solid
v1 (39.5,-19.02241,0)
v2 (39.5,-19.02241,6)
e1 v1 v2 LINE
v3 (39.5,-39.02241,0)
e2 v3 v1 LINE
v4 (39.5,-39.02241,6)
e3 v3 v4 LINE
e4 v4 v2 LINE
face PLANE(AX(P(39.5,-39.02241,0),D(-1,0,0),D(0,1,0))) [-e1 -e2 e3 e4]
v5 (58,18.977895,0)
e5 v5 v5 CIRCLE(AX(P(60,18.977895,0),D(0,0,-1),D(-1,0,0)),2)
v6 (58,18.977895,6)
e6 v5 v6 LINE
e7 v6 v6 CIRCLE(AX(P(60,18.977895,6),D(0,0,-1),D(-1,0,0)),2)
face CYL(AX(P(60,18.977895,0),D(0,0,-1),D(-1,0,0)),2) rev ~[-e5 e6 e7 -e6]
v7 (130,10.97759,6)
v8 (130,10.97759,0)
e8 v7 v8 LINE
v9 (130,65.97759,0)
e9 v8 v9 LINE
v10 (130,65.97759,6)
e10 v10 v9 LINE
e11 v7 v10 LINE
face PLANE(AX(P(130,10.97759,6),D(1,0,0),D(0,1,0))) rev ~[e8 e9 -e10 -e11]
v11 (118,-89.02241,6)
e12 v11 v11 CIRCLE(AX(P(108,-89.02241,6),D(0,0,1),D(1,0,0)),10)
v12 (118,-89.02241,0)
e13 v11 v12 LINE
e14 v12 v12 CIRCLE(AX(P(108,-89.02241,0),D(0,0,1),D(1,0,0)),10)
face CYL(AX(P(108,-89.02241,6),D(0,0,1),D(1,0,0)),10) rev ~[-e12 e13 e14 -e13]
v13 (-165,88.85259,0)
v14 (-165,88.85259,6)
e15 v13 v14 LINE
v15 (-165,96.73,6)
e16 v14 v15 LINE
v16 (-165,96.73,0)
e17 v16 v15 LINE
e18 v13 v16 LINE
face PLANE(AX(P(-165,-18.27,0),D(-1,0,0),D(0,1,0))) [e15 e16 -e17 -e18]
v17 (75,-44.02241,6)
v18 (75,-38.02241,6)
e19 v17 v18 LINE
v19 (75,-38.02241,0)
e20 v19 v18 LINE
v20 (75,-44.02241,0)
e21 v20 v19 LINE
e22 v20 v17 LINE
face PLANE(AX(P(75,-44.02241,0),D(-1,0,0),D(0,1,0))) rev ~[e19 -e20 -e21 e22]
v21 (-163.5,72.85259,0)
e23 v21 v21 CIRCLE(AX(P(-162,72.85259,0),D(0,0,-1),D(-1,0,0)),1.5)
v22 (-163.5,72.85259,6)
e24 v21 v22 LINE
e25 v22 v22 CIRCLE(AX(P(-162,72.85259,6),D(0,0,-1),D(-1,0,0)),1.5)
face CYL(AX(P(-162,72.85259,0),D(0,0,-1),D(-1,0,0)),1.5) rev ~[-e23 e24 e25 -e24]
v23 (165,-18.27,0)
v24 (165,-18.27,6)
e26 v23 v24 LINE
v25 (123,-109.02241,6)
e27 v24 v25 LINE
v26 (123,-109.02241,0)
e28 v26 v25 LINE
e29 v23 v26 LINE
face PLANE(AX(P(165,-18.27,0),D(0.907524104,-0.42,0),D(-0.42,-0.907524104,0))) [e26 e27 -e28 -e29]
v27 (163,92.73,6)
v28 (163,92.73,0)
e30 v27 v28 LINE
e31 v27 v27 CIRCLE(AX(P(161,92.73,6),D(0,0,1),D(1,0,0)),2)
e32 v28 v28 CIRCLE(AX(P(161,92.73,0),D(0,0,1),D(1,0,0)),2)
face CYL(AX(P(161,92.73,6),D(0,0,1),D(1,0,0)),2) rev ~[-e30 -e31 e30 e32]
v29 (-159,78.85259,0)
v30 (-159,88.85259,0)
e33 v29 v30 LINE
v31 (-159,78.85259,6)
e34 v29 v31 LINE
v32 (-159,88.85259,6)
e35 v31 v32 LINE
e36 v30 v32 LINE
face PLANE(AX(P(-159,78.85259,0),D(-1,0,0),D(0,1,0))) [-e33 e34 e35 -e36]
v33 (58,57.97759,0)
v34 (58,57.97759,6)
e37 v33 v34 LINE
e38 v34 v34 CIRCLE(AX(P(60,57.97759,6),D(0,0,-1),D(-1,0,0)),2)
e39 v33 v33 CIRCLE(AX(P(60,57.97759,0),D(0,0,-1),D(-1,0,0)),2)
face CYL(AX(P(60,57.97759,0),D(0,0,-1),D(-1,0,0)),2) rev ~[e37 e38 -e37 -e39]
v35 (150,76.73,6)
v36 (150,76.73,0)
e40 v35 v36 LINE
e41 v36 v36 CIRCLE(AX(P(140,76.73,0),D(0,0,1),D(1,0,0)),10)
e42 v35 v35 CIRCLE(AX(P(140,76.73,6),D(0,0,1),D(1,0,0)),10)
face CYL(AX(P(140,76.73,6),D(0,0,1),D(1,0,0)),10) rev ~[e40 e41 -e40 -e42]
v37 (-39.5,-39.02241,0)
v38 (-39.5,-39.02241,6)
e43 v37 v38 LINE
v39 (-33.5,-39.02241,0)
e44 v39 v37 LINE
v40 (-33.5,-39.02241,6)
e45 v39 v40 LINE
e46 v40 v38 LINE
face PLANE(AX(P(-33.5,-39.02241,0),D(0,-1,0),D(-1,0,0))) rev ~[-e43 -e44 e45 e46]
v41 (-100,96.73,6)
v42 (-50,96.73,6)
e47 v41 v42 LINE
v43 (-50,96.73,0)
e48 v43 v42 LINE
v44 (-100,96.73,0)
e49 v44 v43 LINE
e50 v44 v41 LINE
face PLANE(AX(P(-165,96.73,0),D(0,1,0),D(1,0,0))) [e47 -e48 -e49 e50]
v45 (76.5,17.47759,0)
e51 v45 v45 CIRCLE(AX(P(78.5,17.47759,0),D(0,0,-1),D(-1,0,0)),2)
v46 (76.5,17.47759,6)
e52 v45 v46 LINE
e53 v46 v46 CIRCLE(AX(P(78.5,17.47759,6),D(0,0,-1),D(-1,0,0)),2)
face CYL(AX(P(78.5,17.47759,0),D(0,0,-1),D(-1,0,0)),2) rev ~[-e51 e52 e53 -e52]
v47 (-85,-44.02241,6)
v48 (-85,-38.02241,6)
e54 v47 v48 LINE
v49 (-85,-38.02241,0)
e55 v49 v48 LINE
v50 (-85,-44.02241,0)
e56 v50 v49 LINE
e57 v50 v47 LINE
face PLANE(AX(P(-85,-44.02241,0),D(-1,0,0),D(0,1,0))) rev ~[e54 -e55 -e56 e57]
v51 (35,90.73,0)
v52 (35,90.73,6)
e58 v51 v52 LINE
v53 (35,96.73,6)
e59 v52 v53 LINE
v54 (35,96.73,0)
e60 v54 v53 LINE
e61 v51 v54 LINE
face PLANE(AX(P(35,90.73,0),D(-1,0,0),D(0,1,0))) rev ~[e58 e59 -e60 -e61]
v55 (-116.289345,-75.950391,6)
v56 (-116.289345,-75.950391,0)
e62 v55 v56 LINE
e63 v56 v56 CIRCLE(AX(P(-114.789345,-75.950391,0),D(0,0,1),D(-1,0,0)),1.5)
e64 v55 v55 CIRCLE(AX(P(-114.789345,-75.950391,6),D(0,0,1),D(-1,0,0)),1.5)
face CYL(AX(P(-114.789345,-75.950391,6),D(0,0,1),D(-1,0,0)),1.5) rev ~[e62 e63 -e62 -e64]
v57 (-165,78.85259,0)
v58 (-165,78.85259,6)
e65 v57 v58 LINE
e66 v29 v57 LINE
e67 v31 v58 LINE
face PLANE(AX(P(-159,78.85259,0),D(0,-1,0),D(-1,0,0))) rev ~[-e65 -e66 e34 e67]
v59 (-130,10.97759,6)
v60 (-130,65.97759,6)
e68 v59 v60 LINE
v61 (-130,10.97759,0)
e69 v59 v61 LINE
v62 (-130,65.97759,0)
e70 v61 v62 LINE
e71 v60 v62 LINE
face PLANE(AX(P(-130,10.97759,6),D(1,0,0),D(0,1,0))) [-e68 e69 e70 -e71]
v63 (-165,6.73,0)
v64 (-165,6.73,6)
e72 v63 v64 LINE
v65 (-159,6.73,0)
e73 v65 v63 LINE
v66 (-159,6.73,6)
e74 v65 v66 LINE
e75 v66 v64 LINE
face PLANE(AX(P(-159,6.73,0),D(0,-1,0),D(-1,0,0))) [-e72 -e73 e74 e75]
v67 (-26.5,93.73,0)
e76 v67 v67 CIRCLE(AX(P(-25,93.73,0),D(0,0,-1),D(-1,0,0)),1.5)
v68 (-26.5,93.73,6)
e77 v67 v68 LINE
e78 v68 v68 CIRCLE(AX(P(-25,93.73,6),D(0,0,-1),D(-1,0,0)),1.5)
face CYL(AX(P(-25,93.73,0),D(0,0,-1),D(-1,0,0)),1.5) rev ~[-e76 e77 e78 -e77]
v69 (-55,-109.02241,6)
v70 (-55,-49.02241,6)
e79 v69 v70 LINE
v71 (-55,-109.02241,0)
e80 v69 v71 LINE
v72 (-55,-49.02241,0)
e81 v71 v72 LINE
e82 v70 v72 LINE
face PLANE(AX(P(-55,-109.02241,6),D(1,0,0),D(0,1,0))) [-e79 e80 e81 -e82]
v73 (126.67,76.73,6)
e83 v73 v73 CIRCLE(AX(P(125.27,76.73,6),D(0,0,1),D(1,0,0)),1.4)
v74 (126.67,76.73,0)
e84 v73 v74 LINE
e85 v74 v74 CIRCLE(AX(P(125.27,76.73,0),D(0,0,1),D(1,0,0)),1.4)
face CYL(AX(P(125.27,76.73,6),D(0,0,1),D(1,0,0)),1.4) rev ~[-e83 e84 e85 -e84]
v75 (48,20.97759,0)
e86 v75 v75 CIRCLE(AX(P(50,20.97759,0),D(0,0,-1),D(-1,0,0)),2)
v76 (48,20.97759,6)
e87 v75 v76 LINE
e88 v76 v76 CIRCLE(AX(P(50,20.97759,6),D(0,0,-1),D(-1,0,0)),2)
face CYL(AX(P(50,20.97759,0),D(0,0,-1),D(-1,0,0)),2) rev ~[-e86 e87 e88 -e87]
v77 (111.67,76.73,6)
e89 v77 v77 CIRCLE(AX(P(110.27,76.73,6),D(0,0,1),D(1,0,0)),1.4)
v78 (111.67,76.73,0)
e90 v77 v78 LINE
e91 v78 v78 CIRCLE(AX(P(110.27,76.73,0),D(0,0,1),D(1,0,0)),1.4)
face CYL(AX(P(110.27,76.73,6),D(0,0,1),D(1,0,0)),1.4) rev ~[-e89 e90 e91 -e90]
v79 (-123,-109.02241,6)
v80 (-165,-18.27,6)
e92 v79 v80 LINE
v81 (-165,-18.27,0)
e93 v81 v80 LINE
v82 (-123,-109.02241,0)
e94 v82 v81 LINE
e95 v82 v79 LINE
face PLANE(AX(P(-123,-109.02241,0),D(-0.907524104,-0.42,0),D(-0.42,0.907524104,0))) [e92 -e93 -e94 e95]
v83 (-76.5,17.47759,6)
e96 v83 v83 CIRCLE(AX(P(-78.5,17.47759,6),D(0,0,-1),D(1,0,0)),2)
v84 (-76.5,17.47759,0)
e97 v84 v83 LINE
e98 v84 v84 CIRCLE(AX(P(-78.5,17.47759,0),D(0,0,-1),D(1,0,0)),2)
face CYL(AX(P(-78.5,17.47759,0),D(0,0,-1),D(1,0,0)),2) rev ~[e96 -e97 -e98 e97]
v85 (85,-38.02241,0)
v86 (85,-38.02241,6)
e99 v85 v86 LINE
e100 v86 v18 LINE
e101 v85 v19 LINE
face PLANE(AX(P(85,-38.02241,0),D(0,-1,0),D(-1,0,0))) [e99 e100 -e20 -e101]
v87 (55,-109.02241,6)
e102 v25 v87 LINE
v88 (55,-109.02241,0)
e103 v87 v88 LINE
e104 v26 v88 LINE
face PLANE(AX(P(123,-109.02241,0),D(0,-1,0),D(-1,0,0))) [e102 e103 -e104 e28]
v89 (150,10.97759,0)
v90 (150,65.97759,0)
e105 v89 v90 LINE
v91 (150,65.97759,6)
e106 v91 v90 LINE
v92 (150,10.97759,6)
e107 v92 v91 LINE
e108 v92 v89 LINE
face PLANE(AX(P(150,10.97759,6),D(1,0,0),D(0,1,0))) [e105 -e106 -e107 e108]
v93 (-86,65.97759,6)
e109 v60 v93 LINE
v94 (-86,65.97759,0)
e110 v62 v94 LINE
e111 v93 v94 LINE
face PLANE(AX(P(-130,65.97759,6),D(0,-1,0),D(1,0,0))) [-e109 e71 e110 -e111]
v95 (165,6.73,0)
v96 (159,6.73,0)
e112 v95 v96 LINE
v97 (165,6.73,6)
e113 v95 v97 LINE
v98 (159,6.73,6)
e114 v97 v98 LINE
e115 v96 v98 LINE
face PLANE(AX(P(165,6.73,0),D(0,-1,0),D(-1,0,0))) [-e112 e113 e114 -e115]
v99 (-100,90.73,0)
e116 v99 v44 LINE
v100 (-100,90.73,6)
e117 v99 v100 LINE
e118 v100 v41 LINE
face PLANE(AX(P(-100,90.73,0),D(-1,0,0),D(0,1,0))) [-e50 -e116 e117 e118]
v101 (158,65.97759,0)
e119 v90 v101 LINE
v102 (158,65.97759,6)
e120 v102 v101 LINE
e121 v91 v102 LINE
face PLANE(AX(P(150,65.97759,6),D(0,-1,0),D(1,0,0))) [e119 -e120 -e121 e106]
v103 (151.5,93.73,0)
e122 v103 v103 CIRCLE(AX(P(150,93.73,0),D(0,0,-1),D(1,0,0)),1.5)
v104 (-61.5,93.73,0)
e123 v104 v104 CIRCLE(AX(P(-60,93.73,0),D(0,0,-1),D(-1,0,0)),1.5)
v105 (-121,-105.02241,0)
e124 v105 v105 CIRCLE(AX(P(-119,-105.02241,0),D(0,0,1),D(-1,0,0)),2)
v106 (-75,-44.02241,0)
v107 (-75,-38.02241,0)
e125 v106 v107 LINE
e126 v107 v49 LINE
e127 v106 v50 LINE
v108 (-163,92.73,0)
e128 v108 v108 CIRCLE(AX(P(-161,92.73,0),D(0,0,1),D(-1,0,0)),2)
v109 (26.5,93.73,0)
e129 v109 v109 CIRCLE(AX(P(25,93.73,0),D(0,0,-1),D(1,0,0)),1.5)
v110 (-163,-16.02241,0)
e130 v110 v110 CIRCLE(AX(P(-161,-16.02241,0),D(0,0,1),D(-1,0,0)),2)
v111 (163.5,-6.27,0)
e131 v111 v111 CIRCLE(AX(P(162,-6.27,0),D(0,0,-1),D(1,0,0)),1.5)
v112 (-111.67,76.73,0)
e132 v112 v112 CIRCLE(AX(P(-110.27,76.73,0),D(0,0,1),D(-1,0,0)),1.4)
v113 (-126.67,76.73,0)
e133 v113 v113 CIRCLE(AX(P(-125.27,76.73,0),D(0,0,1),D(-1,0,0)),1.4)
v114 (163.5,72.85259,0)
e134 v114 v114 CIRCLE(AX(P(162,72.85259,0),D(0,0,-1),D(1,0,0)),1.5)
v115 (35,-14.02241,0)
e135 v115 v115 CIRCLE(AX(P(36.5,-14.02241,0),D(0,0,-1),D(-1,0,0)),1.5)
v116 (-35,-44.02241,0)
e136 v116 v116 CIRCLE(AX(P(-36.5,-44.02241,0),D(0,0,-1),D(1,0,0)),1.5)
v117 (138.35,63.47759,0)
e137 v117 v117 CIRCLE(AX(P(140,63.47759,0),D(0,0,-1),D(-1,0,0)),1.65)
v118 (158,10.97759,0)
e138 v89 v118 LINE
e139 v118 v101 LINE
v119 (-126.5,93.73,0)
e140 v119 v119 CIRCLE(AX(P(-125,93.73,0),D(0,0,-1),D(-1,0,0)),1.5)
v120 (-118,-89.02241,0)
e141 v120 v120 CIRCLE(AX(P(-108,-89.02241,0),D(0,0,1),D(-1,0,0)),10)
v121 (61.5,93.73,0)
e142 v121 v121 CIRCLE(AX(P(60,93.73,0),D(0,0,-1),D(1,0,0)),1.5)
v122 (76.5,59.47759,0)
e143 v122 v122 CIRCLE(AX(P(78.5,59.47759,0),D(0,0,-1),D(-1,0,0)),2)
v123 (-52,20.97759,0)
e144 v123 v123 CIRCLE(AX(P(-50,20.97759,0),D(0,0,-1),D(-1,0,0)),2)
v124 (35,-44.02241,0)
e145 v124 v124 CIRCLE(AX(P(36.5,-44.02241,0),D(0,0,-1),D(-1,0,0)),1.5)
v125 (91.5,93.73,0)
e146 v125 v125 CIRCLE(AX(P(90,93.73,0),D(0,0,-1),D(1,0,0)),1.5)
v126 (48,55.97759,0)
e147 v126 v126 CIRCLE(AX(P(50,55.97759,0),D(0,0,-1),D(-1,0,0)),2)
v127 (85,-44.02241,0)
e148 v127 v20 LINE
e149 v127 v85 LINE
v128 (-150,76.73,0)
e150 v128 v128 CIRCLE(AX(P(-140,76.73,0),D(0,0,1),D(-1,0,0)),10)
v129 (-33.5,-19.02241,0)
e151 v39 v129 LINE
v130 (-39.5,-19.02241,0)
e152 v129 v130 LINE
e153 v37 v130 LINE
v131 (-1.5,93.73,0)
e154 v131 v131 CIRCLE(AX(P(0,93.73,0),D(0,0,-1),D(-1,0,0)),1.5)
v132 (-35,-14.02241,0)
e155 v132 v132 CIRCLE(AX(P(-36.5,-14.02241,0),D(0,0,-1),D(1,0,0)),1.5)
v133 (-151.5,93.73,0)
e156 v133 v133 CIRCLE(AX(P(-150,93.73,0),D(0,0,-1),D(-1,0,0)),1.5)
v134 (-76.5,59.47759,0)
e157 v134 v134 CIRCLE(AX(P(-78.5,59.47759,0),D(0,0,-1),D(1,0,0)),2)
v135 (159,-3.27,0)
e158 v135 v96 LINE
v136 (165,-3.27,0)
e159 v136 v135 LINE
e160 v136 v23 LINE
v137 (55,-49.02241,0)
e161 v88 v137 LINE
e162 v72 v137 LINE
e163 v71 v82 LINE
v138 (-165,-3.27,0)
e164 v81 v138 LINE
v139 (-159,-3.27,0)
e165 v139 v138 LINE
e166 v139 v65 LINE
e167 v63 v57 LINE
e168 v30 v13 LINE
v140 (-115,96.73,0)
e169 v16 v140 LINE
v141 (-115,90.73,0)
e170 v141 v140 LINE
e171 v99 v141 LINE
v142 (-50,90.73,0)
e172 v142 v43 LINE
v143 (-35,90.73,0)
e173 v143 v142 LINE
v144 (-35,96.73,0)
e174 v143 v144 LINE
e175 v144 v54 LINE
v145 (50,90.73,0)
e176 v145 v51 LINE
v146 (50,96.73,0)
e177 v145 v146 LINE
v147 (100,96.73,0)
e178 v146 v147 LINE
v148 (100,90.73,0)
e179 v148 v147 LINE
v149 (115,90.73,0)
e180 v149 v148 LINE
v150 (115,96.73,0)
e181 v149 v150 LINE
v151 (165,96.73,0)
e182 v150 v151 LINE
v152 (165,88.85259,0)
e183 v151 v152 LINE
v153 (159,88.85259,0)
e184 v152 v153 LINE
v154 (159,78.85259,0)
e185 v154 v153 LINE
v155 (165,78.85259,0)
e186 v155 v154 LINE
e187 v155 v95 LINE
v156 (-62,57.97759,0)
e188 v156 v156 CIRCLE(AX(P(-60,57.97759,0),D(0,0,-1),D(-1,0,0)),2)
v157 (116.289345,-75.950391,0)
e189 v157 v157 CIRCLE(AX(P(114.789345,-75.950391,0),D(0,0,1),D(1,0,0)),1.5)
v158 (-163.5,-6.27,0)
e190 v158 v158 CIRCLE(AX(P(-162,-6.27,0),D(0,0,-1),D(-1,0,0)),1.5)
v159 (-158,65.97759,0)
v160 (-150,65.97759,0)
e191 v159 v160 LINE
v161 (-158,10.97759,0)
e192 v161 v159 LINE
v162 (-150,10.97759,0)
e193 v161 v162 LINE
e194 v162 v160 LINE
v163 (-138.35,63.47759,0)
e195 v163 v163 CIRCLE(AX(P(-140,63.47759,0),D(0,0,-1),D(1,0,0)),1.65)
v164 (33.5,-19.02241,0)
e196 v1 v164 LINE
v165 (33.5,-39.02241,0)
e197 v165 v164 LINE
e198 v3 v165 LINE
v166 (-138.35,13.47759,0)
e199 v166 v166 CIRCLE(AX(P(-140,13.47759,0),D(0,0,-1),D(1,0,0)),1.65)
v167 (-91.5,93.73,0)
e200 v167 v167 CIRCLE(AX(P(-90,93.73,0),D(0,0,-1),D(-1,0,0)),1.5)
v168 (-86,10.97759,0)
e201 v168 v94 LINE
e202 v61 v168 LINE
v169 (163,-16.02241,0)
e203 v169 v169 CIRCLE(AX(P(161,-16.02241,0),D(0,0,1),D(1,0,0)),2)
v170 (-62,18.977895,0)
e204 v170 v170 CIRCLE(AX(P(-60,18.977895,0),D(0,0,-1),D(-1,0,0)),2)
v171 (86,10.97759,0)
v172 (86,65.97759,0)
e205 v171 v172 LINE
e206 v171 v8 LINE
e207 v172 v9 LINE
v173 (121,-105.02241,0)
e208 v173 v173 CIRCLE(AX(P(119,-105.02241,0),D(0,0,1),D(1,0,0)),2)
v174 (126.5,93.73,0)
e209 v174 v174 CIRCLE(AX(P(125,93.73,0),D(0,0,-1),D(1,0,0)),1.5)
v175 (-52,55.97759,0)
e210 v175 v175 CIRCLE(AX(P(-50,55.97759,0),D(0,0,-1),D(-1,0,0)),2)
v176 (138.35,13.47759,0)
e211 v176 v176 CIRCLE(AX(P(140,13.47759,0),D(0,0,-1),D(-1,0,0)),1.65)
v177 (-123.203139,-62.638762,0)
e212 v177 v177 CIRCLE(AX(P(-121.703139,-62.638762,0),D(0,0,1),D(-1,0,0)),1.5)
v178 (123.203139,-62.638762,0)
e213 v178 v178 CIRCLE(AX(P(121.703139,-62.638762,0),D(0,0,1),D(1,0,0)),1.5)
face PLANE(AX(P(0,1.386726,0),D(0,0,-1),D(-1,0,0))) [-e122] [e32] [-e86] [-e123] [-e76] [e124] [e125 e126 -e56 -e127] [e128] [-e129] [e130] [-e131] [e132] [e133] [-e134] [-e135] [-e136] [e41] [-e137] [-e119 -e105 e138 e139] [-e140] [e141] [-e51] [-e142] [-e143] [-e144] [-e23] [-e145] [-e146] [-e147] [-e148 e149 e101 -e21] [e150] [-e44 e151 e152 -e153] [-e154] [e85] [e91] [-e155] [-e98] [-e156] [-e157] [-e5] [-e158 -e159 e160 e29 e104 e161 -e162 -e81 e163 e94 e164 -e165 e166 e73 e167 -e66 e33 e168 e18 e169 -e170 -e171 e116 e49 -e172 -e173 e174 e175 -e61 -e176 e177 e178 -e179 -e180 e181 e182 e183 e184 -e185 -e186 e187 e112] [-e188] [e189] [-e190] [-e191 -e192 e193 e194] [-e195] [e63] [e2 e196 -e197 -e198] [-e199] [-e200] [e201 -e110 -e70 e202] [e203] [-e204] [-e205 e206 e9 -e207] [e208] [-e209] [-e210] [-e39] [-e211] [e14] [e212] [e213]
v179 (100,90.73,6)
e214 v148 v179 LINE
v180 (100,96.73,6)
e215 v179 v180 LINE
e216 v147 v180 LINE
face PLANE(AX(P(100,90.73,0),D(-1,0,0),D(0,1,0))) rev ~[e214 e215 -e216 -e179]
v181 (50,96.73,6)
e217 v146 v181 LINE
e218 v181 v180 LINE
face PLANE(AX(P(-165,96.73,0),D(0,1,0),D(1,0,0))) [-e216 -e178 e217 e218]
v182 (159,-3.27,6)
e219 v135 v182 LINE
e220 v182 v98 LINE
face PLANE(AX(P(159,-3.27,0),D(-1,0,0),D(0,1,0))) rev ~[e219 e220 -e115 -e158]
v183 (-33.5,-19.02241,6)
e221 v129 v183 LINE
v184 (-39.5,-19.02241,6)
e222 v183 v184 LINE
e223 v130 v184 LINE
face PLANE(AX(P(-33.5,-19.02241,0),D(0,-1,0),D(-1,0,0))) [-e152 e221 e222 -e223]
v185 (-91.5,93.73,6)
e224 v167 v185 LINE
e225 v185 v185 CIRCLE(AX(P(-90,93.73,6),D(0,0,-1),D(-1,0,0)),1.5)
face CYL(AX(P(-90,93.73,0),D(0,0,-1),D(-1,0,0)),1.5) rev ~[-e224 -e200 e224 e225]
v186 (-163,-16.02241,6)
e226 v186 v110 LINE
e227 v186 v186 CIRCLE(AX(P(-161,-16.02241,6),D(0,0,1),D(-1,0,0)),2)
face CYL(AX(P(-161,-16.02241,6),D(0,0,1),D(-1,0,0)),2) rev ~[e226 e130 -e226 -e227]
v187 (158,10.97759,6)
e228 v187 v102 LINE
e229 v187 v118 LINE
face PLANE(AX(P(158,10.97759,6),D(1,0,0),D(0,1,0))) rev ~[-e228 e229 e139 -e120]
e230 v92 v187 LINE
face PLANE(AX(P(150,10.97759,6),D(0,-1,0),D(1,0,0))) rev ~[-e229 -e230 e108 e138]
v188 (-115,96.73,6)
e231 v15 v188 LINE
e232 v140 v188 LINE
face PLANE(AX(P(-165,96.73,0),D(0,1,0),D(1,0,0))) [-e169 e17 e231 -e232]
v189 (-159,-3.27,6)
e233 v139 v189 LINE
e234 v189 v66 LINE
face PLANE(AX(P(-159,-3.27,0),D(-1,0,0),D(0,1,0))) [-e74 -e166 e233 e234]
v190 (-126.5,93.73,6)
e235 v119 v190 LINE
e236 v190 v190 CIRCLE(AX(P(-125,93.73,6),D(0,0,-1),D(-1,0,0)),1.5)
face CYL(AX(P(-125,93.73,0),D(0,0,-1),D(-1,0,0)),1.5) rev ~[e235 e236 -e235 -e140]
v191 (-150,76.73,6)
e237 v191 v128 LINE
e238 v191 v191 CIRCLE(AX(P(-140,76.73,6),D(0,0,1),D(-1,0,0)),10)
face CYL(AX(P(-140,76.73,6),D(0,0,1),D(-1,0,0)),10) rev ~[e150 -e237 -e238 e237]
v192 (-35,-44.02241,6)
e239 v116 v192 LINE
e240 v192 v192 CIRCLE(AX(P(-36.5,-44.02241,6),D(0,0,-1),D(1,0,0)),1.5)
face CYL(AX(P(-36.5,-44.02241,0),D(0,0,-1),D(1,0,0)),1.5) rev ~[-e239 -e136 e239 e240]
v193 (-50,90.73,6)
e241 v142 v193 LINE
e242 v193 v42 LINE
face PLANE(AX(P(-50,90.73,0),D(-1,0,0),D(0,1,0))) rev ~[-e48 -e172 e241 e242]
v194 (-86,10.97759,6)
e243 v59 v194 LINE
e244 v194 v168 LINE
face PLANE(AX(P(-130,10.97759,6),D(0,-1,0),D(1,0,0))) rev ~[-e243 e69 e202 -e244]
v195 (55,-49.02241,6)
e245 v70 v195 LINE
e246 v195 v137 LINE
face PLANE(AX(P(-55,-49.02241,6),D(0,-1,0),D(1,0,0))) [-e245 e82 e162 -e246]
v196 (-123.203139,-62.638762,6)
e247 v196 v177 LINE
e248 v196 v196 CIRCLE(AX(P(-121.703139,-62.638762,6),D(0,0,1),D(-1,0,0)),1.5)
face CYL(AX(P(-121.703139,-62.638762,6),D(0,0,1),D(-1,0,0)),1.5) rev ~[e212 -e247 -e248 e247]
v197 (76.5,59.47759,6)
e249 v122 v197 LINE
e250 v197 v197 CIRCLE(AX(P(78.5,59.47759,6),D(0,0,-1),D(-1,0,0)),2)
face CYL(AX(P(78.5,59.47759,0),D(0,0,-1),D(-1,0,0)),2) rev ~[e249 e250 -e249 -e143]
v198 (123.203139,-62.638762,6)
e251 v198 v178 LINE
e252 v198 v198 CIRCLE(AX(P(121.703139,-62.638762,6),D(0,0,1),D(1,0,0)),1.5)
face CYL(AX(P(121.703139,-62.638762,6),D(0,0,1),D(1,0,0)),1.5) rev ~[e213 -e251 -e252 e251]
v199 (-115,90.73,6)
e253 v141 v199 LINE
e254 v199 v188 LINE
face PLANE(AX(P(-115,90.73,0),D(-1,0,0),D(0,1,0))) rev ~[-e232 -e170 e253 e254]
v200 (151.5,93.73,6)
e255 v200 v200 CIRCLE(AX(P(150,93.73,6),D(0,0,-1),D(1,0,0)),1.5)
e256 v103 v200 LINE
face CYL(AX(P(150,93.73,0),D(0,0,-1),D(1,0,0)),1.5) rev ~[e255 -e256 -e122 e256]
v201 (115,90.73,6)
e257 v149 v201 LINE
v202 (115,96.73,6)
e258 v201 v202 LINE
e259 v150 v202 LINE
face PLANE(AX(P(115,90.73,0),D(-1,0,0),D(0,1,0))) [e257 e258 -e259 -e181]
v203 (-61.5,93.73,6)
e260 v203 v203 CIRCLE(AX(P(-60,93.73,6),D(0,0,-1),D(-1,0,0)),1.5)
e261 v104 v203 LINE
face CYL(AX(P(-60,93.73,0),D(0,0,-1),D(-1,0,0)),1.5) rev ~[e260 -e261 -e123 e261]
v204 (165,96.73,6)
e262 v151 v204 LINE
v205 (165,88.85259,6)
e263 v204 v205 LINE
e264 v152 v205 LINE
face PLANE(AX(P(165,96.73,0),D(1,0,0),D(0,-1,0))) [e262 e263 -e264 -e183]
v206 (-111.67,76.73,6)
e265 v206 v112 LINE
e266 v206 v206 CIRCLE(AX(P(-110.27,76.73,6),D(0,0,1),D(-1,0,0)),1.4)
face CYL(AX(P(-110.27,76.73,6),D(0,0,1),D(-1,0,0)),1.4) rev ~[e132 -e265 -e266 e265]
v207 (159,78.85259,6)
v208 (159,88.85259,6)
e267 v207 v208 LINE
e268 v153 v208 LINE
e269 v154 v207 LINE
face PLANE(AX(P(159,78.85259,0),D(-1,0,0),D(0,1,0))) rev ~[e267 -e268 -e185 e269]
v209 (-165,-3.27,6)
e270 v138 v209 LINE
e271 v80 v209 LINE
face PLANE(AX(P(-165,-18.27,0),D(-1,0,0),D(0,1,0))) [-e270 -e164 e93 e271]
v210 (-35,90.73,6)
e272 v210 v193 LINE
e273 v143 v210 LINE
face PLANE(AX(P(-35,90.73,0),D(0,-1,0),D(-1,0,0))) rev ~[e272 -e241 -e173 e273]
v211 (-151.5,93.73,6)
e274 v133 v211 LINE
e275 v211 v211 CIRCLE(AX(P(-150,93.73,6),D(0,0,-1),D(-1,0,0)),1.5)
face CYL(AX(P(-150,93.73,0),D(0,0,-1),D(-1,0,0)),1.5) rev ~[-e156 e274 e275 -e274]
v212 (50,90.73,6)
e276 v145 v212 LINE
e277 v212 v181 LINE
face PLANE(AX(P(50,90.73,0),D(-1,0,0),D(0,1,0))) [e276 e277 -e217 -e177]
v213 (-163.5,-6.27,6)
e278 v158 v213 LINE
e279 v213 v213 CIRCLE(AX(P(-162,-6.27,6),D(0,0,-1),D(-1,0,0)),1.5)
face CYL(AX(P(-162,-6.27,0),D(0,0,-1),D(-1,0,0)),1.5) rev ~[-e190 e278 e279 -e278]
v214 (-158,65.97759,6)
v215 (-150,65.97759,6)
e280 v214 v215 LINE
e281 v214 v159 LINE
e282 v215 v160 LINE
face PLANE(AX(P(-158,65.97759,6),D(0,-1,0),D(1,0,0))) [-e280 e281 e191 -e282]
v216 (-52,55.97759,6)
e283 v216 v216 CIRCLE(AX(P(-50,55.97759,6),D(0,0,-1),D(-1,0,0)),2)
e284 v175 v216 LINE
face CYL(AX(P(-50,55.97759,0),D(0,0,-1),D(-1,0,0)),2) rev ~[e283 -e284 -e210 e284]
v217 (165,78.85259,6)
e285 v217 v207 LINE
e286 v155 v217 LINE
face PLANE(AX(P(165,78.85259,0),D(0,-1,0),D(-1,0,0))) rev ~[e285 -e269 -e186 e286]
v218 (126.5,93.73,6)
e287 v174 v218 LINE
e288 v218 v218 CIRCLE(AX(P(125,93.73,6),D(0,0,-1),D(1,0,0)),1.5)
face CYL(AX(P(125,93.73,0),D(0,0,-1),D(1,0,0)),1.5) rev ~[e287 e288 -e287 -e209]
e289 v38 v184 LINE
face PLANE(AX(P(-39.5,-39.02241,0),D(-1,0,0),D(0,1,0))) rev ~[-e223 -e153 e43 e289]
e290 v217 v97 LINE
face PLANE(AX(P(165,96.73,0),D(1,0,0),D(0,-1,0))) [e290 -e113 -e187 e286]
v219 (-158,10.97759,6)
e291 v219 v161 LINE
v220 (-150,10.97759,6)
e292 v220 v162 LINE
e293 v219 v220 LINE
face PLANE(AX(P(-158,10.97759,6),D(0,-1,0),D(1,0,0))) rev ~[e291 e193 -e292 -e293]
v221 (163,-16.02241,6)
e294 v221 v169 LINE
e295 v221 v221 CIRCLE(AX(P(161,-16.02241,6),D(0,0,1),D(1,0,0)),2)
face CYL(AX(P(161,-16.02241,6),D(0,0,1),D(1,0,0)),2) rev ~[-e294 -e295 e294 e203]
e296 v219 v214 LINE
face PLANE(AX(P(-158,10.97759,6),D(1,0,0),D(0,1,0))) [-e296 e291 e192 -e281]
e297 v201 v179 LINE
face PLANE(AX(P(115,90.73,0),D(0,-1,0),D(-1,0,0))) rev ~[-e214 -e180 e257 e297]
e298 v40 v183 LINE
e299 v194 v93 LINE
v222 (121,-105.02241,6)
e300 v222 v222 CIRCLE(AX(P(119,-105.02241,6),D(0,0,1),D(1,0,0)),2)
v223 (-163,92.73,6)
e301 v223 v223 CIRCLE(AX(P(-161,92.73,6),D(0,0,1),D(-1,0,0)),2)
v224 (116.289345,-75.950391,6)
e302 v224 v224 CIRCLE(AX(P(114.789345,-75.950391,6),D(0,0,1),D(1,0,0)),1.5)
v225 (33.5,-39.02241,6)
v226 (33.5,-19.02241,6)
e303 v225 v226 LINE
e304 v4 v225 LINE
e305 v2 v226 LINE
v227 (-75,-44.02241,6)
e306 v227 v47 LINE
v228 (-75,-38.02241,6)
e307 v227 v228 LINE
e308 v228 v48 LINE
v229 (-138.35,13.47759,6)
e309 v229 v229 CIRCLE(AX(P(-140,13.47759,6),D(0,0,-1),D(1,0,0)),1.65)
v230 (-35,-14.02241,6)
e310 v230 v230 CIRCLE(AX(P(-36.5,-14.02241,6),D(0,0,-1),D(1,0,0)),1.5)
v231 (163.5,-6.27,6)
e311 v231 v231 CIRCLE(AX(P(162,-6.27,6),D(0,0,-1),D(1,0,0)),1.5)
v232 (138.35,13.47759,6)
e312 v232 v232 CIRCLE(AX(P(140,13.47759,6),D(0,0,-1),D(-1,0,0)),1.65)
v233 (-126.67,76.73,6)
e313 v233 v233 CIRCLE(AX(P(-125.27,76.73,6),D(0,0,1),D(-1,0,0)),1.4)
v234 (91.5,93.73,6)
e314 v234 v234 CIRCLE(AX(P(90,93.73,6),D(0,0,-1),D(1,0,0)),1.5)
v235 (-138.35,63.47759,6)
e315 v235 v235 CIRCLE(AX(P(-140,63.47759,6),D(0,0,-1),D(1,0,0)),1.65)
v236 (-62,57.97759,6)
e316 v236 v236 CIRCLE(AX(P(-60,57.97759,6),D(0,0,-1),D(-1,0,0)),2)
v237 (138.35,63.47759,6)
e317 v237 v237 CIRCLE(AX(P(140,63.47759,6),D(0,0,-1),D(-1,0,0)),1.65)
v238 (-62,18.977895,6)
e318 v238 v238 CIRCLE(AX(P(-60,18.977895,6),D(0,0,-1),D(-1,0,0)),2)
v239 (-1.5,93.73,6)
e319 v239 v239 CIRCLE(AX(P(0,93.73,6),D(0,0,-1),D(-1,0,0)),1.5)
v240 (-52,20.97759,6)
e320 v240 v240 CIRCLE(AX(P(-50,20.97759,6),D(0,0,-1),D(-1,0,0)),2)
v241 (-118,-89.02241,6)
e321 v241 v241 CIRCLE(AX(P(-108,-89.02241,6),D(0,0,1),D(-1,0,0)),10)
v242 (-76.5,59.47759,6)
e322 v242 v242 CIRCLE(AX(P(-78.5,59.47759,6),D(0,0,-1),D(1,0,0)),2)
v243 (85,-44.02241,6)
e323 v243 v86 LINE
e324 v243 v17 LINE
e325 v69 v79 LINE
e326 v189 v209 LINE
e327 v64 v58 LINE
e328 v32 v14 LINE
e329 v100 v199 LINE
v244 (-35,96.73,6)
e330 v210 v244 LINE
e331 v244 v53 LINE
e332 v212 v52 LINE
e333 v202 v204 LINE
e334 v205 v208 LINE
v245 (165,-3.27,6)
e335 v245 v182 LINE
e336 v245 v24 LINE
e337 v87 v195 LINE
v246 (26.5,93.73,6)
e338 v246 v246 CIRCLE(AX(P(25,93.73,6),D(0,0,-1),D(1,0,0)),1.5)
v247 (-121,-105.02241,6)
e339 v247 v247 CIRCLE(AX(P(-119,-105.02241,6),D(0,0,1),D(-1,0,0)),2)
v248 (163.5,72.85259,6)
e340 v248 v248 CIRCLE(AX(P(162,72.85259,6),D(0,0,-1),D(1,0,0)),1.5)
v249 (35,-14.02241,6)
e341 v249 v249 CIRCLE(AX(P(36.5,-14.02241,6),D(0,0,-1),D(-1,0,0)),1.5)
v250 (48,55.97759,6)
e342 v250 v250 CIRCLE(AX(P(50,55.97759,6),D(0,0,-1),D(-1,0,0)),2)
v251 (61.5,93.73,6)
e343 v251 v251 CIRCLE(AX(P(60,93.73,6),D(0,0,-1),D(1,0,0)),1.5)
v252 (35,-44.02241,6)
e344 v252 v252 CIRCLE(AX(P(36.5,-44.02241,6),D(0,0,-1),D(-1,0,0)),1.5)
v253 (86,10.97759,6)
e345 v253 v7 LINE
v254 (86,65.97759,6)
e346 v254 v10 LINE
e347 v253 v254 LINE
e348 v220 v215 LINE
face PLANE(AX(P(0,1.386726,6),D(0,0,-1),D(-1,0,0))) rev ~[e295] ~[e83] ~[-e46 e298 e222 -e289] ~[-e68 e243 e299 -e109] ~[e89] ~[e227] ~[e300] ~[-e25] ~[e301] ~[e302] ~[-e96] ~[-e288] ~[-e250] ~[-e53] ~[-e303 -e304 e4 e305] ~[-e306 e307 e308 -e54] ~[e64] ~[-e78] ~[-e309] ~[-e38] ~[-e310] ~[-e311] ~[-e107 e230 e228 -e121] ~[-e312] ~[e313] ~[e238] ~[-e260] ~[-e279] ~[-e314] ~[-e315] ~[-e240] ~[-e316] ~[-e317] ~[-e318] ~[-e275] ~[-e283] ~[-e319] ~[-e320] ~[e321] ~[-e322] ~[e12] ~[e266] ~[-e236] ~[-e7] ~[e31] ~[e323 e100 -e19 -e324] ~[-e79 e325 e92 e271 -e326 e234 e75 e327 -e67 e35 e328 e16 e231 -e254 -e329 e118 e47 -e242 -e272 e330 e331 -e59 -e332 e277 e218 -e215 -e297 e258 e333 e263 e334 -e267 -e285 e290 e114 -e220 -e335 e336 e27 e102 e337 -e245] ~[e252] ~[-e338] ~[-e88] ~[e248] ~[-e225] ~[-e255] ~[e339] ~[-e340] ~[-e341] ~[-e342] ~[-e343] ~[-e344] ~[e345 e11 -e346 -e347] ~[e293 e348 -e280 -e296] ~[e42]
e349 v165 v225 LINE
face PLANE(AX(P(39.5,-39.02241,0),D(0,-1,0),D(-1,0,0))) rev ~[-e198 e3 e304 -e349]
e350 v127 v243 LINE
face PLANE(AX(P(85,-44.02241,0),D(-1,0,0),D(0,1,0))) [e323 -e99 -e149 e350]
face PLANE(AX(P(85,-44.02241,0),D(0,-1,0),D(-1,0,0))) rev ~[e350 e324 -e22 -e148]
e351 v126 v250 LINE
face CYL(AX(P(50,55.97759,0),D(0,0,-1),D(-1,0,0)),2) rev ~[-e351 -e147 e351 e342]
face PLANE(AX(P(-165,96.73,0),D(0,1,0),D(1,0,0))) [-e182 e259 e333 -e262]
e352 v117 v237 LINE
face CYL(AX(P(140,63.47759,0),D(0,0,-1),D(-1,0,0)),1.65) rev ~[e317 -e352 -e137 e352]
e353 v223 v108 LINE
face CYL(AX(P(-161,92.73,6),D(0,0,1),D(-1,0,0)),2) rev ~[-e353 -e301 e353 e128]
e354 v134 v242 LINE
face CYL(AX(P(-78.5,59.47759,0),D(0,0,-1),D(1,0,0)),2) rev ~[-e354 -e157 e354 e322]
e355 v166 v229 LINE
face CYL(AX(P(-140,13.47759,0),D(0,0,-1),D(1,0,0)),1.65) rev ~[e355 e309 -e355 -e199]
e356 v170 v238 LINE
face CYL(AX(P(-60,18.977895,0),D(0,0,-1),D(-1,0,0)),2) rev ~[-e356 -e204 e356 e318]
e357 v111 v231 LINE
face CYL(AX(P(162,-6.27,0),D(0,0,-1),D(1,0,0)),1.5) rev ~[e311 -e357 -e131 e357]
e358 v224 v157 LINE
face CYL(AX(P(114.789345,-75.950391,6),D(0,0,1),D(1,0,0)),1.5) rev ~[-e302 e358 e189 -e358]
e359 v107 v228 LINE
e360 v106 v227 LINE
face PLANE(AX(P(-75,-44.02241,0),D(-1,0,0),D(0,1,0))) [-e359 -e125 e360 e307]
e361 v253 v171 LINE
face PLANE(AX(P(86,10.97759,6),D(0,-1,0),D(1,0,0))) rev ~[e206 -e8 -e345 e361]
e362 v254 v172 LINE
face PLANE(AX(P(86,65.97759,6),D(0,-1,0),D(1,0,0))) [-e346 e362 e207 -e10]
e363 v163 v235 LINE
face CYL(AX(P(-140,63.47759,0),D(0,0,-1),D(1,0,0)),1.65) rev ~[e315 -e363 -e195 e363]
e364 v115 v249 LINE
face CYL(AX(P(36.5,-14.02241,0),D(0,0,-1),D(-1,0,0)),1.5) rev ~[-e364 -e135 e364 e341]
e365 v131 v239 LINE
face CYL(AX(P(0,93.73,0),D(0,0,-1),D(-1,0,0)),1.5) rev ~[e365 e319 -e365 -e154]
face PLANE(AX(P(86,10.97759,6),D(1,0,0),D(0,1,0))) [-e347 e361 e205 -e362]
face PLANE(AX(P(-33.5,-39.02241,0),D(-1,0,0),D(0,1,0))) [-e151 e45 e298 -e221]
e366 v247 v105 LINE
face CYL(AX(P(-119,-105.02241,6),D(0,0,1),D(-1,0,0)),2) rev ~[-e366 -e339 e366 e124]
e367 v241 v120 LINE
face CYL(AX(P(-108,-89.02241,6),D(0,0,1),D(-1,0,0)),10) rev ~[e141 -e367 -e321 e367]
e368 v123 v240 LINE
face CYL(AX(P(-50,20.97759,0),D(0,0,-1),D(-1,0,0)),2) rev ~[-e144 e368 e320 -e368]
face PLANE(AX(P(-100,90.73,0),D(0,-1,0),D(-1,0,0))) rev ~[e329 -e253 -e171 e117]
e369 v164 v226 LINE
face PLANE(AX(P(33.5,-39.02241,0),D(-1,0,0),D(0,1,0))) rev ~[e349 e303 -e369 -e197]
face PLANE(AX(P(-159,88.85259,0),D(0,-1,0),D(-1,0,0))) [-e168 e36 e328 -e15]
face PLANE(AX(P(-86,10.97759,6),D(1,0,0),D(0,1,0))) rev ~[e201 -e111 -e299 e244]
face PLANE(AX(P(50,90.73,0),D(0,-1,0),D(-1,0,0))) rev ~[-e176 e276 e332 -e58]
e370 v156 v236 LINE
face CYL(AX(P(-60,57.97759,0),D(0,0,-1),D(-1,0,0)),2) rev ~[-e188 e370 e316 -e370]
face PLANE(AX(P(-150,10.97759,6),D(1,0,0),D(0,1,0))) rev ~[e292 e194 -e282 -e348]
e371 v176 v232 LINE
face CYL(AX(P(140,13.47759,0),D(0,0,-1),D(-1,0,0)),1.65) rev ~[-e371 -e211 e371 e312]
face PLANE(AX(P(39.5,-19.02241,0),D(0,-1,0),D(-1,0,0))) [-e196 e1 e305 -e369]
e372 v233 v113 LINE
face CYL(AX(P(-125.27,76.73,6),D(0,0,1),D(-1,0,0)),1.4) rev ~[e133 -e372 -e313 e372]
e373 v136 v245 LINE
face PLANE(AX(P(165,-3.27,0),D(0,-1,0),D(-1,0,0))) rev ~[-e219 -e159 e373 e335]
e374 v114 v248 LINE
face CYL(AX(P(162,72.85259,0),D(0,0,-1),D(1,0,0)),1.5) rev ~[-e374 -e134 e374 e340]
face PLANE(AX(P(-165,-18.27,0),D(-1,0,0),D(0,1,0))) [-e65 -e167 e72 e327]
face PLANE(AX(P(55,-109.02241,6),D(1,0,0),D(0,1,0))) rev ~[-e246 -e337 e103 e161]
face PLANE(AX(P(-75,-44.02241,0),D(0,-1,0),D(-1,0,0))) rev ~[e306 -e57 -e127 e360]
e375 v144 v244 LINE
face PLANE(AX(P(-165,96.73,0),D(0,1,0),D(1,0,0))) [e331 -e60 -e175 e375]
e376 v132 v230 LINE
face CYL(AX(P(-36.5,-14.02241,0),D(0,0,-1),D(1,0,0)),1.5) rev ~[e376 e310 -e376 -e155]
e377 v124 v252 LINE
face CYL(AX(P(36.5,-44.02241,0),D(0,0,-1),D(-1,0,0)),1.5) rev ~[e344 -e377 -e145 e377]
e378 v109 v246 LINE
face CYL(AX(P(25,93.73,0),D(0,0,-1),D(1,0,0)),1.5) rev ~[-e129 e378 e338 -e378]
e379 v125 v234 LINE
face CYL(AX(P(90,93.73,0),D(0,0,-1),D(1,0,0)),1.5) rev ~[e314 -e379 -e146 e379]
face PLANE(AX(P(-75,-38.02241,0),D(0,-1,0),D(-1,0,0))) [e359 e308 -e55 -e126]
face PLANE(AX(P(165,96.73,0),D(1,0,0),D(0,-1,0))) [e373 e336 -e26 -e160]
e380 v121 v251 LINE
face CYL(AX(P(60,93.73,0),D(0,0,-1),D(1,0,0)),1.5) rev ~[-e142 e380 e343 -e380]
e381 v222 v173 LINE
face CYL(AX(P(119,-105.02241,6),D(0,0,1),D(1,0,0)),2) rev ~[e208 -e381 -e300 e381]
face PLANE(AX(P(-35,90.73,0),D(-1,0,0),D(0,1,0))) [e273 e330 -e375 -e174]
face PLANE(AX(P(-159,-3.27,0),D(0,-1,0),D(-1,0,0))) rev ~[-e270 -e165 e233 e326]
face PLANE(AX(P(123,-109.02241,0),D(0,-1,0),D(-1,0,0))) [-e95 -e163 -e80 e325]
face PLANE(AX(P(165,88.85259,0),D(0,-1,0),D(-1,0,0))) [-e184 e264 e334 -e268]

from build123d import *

# Parameters (mm, degrees)
BOSS_EXTRU_1_DEPTH      = 6
ESQUISSE2_R             = 10
ESQUISSE2_R_2           = 2
ESQUISSE2_R_3           = 1.4
ESQUISSE2_R_4           = 1.5
ESQUISSE2_W             = 8
ESQUISSE2_H             = 55
ESQUISSE2_W_2           = 44
ESQUISSE2_W_3           = 110
ESQUISSE2_H_2           = 60
ENL_V_MAT_EXTRU_1_DEPTH = 6
ESQUISSE3_W             = 6
ESQUISSE3_H             = 10
ESQUISSE3_W_2           = 15
ESQUISSE3_H_2           = 6
ENL_V_MAT_EXTRU_2_DEPTH = 6
ESQUISSE4_R             = 1.5
ENL_V_MAT_EXTRU_3_DEPTH = 6
ESQUISSE5_W             = 10
ESQUISSE5_H             = 6
ENL_V_MAT_EXTRU_4_DEPTH = 6
ESQUISSE6_R             = 1.65
ESQUISSE6_R_2           = 2
ENL_V_MAT_EXTRU_5_DEPTH = 6
ESQUISSE8_R             = 1.5
ESQUISSE8_W             = 6
ESQUISSE8_H             = 20
ENL_V_MAT_EXTRU_8_DEPTH = 6


with BuildPart() as part:
    # Esquisse1 → Boss.-Extru.1 (new body)
    with BuildSketch(Plane.XY):
        Polygon((-165, 96.73), (165, 96.73), (165, -18.27), (123, -109.022410436), (-123, -109.022410436), (-165, -18.27), align=None)
    extrude(amount=BOSS_EXTRU_1_DEPTH)

    # Esquisse2 → Enlèv. mat.-Extru.1 (cut)
    with BuildSketch(Plane.XY.offset(6)):
        with Locations((140, 76.73)):
            Circle(ESQUISSE2_R)
        with Locations((108, -89.022410436)):
            Circle(ESQUISSE2_R)
        with Locations(Location((-140, 76.73, 0), (0, 0, 180))):
            Circle(ESQUISSE2_R)
        with Locations(Location((-108, -89.022410436, 0), (0, 0, 180))):
            Circle(ESQUISSE2_R)
        with Locations((161, -16.022410436)):
            Circle(ESQUISSE2_R_2)
        with Locations((119, -105.022410436)):
            Circle(ESQUISSE2_R_2)
        with Locations((161, 92.73)):
            Circle(ESQUISSE2_R_2)
        with Locations(Location((-161, 92.73, 0), (0, 0, 180))):
            Circle(ESQUISSE2_R_2)
        with Locations(Location((-161, -16.022410436, 0), (0, 0, 180))):
            Circle(ESQUISSE2_R_2)
        with Locations(Location((-119, -105.022410436, 0), (0, 0, 180))):
            Circle(ESQUISSE2_R_2)
        with Locations((125.27, 76.73)):
            Circle(ESQUISSE2_R_3)
        with Locations((110.27, 76.73)):
            Circle(ESQUISSE2_R_3)
        with Locations((114.7893454, -75.950391119)):
            Circle(ESQUISSE2_R_4)
        with Locations((121.703139086, -62.638762485)):
            Circle(ESQUISSE2_R_4)
        with Locations(Location((-110.27, 76.73, 0), (0, 0, 180))):
            Circle(ESQUISSE2_R_3)
        with Locations(Location((-125.27, 76.73, 0), (0, 0, 180))):
            Circle(ESQUISSE2_R_3)
        with Locations(Location((-121.703139086, -62.638762485, 0), (0, 0, 180))):
            Circle(ESQUISSE2_R_4)
        with Locations(Location((-114.7893454, -75.950391119, 0), (0, 0, 180))):
            Circle(ESQUISSE2_R_4)
        with Locations((-154, 38.477589564)):
            Rectangle(ESQUISSE2_W, ESQUISSE2_H)
        with Locations((-108, 38.477589564)):
            Rectangle(ESQUISSE2_W_2, ESQUISSE2_H)
        with Locations((108, 38.477589564)):
            Rectangle(ESQUISSE2_W_2, ESQUISSE2_H)
        with Locations((154, 38.477589564)):
            Rectangle(ESQUISSE2_W, ESQUISSE2_H)
        with Locations((0, -79.022410436)):
            Rectangle(ESQUISSE2_W_3, ESQUISSE2_H_2)
    extrude(amount=-ENL_V_MAT_EXTRU_1_DEPTH, mode=Mode.SUBTRACT)

    # Esquisse3 → Enlèv. mat.-Extru.2 (cut)
    with BuildSketch(Plane(origin=(0, 0, 0), x_dir=(-1, 0, 0), z_dir=(0, 0, -1))):
        with Locations((162, 1.73)):
            Rectangle(ESQUISSE3_W, ESQUISSE3_H)
        with Locations((162, 83.852589564)):
            Rectangle(ESQUISSE3_W, ESQUISSE3_H)
        with Locations((-162, 83.852589564)):
            Rectangle(ESQUISSE3_W, ESQUISSE3_H)
        with Locations((-162, 1.73)):
            Rectangle(ESQUISSE3_W, ESQUISSE3_H)
        with Locations((107.5, 93.73)):
            Rectangle(ESQUISSE3_W_2, ESQUISSE3_H_2)
        with Locations((-42.5, 93.73)):
            Rectangle(ESQUISSE3_W_2, ESQUISSE3_H_2)
        with Locations((42.5, 93.73)):
            Rectangle(ESQUISSE3_W_2, ESQUISSE3_H_2)
        with Locations((-107.5, 93.73)):
            Rectangle(ESQUISSE3_W_2, ESQUISSE3_H_2)
    extrude(amount=-ENL_V_MAT_EXTRU_2_DEPTH, mode=Mode.SUBTRACT)

    # Esquisse4 → Enlèv. mat.-Extru.3 (cut)
    with BuildSketch(Plane(origin=(0, 0, 0), x_dir=(-1, 0, 0), z_dir=(0, 0, -1))):
        with Locations((162, -6.27)):
            Circle(ESQUISSE4_R)
        with Locations((162, 72.852589564)):
            Circle(ESQUISSE4_R)
        with Locations((0, 93.73)):
            Circle(ESQUISSE4_R)
        with Locations((150, 93.73)):
            Circle(ESQUISSE4_R)
        with Locations((125, 93.73)):
            Circle(ESQUISSE4_R)
        with Locations((90, 93.73)):
            Circle(ESQUISSE4_R)
        with Locations(Location((-25, 93.73, 0), (0, 0, 180))):
            Circle(ESQUISSE4_R)
        with Locations((60, 93.73)):
            Circle(ESQUISSE4_R)
        with Locations((25, 93.73)):
            Circle(ESQUISSE4_R)
        with Locations(Location((-60, 93.73, 0), (0, 0, 180))):
            Circle(ESQUISSE4_R)
        with Locations(Location((-90, 93.73, 0), (0, 0, 180))):
            Circle(ESQUISSE4_R)
        with Locations(Location((-125, 93.73, 0), (0, 0, 180))):
            Circle(ESQUISSE4_R)
        with Locations(Location((-150, 93.73, 0), (0, 0, 180))):
            Circle(ESQUISSE4_R)
        with Locations(Location((-162, 72.852589564, 0), (0, 0, 180))):
            Circle(ESQUISSE4_R)
        with Locations(Location((-162, -6.27, 0), (0, 0, 180))):
            Circle(ESQUISSE4_R)
    extrude(amount=-ENL_V_MAT_EXTRU_3_DEPTH, mode=Mode.SUBTRACT)

    # Esquisse5 → Enlèv. mat.-Extru.4 (cut)
    with BuildSketch(Plane(origin=(0, 0, 0), x_dir=(-1, 0, 0), z_dir=(0, 0, -1))):
        with Locations((80, -41.022410436)):
            Rectangle(ESQUISSE5_W, ESQUISSE5_H)
        with Locations((-80, -41.022410436)):
            Rectangle(ESQUISSE5_W, ESQUISSE5_H)
    extrude(amount=-ENL_V_MAT_EXTRU_4_DEPTH, mode=Mode.SUBTRACT)

    # Esquisse6 → Enlèv. mat.-Extru.5 (cut)
    with BuildSketch(Plane(origin=(0, 0, 0), x_dir=(-1, 0, 0), z_dir=(0, 0, -1))):
        with Locations((-140, 13.477589564)):
            Circle(ESQUISSE6_R)
        with Locations((-140, 63.477589564)):
            Circle(ESQUISSE6_R)
        with Locations(Location((140, 63.477589564, 0), (0, 0, 180))):
            Circle(ESQUISSE6_R)
        with Locations(Location((140, 13.477589564, 0), (0, 0, 180))):
            Circle(ESQUISSE6_R)
        with Locations((-78.5, 59.477589564)):
            Circle(ESQUISSE6_R_2)
        with Locations((-78.5, 17.477589564)):
            Circle(ESQUISSE6_R_2)
        with Locations((-60, 57.977589564)):
            Circle(ESQUISSE6_R_2)
        with Locations((-60, 18.977894939)):
            Circle(ESQUISSE6_R_2)
        with Locations((60, 18.977894939)):
            Circle(ESQUISSE6_R_2)
        with Locations((60, 57.977589564)):
            Circle(ESQUISSE6_R_2)
        with Locations((-50, 55.977589564)):
            Circle(ESQUISSE6_R_2)
        with Locations((50, 55.977589564)):
            Circle(ESQUISSE6_R_2)
        with Locations((50, 20.977589564)):
            Circle(ESQUISSE6_R_2)
        with Locations((-50, 20.977589564)):
            Circle(ESQUISSE6_R_2)
        with Locations(Location((78.5, 17.477589564, 0), (0, 0, 180))):
            Circle(ESQUISSE6_R_2)
        with Locations(Location((78.5, 59.477589564, 0), (0, 0, 180))):
            Circle(ESQUISSE6_R_2)
    extrude(amount=-ENL_V_MAT_EXTRU_5_DEPTH, mode=Mode.SUBTRACT)

    # Esquisse8 → Enlèv. mat.-Extru.8 (cut)
    with BuildSketch(Plane(origin=(0, 0, 0), x_dir=(-1, 0, 0), z_dir=(0, 0, -1))):
        with Locations((-36.5, -44.022410436)):
            Circle(ESQUISSE8_R)
        with Locations((-36.5, -14.022410436)):
            Circle(ESQUISSE8_R)
        with Locations(Location((36.5, -14.022410436, 0), (0, 0, 180))):
            Circle(ESQUISSE8_R)
        with Locations(Location((36.5, -44.022410436, 0), (0, 0, 180))):
            Circle(ESQUISSE8_R)
        with Locations((-36.5, -29.022410436)):
            Rectangle(ESQUISSE8_W, ESQUISSE8_H)
        with Locations((36.5, -29.022410436)):
            Rectangle(ESQUISSE8_W, ESQUISSE8_H)
    extrude(amount=-ENL_V_MAT_EXTRU_8_DEPTH, mode=Mode.SUBTRACT)


solid = part.part
